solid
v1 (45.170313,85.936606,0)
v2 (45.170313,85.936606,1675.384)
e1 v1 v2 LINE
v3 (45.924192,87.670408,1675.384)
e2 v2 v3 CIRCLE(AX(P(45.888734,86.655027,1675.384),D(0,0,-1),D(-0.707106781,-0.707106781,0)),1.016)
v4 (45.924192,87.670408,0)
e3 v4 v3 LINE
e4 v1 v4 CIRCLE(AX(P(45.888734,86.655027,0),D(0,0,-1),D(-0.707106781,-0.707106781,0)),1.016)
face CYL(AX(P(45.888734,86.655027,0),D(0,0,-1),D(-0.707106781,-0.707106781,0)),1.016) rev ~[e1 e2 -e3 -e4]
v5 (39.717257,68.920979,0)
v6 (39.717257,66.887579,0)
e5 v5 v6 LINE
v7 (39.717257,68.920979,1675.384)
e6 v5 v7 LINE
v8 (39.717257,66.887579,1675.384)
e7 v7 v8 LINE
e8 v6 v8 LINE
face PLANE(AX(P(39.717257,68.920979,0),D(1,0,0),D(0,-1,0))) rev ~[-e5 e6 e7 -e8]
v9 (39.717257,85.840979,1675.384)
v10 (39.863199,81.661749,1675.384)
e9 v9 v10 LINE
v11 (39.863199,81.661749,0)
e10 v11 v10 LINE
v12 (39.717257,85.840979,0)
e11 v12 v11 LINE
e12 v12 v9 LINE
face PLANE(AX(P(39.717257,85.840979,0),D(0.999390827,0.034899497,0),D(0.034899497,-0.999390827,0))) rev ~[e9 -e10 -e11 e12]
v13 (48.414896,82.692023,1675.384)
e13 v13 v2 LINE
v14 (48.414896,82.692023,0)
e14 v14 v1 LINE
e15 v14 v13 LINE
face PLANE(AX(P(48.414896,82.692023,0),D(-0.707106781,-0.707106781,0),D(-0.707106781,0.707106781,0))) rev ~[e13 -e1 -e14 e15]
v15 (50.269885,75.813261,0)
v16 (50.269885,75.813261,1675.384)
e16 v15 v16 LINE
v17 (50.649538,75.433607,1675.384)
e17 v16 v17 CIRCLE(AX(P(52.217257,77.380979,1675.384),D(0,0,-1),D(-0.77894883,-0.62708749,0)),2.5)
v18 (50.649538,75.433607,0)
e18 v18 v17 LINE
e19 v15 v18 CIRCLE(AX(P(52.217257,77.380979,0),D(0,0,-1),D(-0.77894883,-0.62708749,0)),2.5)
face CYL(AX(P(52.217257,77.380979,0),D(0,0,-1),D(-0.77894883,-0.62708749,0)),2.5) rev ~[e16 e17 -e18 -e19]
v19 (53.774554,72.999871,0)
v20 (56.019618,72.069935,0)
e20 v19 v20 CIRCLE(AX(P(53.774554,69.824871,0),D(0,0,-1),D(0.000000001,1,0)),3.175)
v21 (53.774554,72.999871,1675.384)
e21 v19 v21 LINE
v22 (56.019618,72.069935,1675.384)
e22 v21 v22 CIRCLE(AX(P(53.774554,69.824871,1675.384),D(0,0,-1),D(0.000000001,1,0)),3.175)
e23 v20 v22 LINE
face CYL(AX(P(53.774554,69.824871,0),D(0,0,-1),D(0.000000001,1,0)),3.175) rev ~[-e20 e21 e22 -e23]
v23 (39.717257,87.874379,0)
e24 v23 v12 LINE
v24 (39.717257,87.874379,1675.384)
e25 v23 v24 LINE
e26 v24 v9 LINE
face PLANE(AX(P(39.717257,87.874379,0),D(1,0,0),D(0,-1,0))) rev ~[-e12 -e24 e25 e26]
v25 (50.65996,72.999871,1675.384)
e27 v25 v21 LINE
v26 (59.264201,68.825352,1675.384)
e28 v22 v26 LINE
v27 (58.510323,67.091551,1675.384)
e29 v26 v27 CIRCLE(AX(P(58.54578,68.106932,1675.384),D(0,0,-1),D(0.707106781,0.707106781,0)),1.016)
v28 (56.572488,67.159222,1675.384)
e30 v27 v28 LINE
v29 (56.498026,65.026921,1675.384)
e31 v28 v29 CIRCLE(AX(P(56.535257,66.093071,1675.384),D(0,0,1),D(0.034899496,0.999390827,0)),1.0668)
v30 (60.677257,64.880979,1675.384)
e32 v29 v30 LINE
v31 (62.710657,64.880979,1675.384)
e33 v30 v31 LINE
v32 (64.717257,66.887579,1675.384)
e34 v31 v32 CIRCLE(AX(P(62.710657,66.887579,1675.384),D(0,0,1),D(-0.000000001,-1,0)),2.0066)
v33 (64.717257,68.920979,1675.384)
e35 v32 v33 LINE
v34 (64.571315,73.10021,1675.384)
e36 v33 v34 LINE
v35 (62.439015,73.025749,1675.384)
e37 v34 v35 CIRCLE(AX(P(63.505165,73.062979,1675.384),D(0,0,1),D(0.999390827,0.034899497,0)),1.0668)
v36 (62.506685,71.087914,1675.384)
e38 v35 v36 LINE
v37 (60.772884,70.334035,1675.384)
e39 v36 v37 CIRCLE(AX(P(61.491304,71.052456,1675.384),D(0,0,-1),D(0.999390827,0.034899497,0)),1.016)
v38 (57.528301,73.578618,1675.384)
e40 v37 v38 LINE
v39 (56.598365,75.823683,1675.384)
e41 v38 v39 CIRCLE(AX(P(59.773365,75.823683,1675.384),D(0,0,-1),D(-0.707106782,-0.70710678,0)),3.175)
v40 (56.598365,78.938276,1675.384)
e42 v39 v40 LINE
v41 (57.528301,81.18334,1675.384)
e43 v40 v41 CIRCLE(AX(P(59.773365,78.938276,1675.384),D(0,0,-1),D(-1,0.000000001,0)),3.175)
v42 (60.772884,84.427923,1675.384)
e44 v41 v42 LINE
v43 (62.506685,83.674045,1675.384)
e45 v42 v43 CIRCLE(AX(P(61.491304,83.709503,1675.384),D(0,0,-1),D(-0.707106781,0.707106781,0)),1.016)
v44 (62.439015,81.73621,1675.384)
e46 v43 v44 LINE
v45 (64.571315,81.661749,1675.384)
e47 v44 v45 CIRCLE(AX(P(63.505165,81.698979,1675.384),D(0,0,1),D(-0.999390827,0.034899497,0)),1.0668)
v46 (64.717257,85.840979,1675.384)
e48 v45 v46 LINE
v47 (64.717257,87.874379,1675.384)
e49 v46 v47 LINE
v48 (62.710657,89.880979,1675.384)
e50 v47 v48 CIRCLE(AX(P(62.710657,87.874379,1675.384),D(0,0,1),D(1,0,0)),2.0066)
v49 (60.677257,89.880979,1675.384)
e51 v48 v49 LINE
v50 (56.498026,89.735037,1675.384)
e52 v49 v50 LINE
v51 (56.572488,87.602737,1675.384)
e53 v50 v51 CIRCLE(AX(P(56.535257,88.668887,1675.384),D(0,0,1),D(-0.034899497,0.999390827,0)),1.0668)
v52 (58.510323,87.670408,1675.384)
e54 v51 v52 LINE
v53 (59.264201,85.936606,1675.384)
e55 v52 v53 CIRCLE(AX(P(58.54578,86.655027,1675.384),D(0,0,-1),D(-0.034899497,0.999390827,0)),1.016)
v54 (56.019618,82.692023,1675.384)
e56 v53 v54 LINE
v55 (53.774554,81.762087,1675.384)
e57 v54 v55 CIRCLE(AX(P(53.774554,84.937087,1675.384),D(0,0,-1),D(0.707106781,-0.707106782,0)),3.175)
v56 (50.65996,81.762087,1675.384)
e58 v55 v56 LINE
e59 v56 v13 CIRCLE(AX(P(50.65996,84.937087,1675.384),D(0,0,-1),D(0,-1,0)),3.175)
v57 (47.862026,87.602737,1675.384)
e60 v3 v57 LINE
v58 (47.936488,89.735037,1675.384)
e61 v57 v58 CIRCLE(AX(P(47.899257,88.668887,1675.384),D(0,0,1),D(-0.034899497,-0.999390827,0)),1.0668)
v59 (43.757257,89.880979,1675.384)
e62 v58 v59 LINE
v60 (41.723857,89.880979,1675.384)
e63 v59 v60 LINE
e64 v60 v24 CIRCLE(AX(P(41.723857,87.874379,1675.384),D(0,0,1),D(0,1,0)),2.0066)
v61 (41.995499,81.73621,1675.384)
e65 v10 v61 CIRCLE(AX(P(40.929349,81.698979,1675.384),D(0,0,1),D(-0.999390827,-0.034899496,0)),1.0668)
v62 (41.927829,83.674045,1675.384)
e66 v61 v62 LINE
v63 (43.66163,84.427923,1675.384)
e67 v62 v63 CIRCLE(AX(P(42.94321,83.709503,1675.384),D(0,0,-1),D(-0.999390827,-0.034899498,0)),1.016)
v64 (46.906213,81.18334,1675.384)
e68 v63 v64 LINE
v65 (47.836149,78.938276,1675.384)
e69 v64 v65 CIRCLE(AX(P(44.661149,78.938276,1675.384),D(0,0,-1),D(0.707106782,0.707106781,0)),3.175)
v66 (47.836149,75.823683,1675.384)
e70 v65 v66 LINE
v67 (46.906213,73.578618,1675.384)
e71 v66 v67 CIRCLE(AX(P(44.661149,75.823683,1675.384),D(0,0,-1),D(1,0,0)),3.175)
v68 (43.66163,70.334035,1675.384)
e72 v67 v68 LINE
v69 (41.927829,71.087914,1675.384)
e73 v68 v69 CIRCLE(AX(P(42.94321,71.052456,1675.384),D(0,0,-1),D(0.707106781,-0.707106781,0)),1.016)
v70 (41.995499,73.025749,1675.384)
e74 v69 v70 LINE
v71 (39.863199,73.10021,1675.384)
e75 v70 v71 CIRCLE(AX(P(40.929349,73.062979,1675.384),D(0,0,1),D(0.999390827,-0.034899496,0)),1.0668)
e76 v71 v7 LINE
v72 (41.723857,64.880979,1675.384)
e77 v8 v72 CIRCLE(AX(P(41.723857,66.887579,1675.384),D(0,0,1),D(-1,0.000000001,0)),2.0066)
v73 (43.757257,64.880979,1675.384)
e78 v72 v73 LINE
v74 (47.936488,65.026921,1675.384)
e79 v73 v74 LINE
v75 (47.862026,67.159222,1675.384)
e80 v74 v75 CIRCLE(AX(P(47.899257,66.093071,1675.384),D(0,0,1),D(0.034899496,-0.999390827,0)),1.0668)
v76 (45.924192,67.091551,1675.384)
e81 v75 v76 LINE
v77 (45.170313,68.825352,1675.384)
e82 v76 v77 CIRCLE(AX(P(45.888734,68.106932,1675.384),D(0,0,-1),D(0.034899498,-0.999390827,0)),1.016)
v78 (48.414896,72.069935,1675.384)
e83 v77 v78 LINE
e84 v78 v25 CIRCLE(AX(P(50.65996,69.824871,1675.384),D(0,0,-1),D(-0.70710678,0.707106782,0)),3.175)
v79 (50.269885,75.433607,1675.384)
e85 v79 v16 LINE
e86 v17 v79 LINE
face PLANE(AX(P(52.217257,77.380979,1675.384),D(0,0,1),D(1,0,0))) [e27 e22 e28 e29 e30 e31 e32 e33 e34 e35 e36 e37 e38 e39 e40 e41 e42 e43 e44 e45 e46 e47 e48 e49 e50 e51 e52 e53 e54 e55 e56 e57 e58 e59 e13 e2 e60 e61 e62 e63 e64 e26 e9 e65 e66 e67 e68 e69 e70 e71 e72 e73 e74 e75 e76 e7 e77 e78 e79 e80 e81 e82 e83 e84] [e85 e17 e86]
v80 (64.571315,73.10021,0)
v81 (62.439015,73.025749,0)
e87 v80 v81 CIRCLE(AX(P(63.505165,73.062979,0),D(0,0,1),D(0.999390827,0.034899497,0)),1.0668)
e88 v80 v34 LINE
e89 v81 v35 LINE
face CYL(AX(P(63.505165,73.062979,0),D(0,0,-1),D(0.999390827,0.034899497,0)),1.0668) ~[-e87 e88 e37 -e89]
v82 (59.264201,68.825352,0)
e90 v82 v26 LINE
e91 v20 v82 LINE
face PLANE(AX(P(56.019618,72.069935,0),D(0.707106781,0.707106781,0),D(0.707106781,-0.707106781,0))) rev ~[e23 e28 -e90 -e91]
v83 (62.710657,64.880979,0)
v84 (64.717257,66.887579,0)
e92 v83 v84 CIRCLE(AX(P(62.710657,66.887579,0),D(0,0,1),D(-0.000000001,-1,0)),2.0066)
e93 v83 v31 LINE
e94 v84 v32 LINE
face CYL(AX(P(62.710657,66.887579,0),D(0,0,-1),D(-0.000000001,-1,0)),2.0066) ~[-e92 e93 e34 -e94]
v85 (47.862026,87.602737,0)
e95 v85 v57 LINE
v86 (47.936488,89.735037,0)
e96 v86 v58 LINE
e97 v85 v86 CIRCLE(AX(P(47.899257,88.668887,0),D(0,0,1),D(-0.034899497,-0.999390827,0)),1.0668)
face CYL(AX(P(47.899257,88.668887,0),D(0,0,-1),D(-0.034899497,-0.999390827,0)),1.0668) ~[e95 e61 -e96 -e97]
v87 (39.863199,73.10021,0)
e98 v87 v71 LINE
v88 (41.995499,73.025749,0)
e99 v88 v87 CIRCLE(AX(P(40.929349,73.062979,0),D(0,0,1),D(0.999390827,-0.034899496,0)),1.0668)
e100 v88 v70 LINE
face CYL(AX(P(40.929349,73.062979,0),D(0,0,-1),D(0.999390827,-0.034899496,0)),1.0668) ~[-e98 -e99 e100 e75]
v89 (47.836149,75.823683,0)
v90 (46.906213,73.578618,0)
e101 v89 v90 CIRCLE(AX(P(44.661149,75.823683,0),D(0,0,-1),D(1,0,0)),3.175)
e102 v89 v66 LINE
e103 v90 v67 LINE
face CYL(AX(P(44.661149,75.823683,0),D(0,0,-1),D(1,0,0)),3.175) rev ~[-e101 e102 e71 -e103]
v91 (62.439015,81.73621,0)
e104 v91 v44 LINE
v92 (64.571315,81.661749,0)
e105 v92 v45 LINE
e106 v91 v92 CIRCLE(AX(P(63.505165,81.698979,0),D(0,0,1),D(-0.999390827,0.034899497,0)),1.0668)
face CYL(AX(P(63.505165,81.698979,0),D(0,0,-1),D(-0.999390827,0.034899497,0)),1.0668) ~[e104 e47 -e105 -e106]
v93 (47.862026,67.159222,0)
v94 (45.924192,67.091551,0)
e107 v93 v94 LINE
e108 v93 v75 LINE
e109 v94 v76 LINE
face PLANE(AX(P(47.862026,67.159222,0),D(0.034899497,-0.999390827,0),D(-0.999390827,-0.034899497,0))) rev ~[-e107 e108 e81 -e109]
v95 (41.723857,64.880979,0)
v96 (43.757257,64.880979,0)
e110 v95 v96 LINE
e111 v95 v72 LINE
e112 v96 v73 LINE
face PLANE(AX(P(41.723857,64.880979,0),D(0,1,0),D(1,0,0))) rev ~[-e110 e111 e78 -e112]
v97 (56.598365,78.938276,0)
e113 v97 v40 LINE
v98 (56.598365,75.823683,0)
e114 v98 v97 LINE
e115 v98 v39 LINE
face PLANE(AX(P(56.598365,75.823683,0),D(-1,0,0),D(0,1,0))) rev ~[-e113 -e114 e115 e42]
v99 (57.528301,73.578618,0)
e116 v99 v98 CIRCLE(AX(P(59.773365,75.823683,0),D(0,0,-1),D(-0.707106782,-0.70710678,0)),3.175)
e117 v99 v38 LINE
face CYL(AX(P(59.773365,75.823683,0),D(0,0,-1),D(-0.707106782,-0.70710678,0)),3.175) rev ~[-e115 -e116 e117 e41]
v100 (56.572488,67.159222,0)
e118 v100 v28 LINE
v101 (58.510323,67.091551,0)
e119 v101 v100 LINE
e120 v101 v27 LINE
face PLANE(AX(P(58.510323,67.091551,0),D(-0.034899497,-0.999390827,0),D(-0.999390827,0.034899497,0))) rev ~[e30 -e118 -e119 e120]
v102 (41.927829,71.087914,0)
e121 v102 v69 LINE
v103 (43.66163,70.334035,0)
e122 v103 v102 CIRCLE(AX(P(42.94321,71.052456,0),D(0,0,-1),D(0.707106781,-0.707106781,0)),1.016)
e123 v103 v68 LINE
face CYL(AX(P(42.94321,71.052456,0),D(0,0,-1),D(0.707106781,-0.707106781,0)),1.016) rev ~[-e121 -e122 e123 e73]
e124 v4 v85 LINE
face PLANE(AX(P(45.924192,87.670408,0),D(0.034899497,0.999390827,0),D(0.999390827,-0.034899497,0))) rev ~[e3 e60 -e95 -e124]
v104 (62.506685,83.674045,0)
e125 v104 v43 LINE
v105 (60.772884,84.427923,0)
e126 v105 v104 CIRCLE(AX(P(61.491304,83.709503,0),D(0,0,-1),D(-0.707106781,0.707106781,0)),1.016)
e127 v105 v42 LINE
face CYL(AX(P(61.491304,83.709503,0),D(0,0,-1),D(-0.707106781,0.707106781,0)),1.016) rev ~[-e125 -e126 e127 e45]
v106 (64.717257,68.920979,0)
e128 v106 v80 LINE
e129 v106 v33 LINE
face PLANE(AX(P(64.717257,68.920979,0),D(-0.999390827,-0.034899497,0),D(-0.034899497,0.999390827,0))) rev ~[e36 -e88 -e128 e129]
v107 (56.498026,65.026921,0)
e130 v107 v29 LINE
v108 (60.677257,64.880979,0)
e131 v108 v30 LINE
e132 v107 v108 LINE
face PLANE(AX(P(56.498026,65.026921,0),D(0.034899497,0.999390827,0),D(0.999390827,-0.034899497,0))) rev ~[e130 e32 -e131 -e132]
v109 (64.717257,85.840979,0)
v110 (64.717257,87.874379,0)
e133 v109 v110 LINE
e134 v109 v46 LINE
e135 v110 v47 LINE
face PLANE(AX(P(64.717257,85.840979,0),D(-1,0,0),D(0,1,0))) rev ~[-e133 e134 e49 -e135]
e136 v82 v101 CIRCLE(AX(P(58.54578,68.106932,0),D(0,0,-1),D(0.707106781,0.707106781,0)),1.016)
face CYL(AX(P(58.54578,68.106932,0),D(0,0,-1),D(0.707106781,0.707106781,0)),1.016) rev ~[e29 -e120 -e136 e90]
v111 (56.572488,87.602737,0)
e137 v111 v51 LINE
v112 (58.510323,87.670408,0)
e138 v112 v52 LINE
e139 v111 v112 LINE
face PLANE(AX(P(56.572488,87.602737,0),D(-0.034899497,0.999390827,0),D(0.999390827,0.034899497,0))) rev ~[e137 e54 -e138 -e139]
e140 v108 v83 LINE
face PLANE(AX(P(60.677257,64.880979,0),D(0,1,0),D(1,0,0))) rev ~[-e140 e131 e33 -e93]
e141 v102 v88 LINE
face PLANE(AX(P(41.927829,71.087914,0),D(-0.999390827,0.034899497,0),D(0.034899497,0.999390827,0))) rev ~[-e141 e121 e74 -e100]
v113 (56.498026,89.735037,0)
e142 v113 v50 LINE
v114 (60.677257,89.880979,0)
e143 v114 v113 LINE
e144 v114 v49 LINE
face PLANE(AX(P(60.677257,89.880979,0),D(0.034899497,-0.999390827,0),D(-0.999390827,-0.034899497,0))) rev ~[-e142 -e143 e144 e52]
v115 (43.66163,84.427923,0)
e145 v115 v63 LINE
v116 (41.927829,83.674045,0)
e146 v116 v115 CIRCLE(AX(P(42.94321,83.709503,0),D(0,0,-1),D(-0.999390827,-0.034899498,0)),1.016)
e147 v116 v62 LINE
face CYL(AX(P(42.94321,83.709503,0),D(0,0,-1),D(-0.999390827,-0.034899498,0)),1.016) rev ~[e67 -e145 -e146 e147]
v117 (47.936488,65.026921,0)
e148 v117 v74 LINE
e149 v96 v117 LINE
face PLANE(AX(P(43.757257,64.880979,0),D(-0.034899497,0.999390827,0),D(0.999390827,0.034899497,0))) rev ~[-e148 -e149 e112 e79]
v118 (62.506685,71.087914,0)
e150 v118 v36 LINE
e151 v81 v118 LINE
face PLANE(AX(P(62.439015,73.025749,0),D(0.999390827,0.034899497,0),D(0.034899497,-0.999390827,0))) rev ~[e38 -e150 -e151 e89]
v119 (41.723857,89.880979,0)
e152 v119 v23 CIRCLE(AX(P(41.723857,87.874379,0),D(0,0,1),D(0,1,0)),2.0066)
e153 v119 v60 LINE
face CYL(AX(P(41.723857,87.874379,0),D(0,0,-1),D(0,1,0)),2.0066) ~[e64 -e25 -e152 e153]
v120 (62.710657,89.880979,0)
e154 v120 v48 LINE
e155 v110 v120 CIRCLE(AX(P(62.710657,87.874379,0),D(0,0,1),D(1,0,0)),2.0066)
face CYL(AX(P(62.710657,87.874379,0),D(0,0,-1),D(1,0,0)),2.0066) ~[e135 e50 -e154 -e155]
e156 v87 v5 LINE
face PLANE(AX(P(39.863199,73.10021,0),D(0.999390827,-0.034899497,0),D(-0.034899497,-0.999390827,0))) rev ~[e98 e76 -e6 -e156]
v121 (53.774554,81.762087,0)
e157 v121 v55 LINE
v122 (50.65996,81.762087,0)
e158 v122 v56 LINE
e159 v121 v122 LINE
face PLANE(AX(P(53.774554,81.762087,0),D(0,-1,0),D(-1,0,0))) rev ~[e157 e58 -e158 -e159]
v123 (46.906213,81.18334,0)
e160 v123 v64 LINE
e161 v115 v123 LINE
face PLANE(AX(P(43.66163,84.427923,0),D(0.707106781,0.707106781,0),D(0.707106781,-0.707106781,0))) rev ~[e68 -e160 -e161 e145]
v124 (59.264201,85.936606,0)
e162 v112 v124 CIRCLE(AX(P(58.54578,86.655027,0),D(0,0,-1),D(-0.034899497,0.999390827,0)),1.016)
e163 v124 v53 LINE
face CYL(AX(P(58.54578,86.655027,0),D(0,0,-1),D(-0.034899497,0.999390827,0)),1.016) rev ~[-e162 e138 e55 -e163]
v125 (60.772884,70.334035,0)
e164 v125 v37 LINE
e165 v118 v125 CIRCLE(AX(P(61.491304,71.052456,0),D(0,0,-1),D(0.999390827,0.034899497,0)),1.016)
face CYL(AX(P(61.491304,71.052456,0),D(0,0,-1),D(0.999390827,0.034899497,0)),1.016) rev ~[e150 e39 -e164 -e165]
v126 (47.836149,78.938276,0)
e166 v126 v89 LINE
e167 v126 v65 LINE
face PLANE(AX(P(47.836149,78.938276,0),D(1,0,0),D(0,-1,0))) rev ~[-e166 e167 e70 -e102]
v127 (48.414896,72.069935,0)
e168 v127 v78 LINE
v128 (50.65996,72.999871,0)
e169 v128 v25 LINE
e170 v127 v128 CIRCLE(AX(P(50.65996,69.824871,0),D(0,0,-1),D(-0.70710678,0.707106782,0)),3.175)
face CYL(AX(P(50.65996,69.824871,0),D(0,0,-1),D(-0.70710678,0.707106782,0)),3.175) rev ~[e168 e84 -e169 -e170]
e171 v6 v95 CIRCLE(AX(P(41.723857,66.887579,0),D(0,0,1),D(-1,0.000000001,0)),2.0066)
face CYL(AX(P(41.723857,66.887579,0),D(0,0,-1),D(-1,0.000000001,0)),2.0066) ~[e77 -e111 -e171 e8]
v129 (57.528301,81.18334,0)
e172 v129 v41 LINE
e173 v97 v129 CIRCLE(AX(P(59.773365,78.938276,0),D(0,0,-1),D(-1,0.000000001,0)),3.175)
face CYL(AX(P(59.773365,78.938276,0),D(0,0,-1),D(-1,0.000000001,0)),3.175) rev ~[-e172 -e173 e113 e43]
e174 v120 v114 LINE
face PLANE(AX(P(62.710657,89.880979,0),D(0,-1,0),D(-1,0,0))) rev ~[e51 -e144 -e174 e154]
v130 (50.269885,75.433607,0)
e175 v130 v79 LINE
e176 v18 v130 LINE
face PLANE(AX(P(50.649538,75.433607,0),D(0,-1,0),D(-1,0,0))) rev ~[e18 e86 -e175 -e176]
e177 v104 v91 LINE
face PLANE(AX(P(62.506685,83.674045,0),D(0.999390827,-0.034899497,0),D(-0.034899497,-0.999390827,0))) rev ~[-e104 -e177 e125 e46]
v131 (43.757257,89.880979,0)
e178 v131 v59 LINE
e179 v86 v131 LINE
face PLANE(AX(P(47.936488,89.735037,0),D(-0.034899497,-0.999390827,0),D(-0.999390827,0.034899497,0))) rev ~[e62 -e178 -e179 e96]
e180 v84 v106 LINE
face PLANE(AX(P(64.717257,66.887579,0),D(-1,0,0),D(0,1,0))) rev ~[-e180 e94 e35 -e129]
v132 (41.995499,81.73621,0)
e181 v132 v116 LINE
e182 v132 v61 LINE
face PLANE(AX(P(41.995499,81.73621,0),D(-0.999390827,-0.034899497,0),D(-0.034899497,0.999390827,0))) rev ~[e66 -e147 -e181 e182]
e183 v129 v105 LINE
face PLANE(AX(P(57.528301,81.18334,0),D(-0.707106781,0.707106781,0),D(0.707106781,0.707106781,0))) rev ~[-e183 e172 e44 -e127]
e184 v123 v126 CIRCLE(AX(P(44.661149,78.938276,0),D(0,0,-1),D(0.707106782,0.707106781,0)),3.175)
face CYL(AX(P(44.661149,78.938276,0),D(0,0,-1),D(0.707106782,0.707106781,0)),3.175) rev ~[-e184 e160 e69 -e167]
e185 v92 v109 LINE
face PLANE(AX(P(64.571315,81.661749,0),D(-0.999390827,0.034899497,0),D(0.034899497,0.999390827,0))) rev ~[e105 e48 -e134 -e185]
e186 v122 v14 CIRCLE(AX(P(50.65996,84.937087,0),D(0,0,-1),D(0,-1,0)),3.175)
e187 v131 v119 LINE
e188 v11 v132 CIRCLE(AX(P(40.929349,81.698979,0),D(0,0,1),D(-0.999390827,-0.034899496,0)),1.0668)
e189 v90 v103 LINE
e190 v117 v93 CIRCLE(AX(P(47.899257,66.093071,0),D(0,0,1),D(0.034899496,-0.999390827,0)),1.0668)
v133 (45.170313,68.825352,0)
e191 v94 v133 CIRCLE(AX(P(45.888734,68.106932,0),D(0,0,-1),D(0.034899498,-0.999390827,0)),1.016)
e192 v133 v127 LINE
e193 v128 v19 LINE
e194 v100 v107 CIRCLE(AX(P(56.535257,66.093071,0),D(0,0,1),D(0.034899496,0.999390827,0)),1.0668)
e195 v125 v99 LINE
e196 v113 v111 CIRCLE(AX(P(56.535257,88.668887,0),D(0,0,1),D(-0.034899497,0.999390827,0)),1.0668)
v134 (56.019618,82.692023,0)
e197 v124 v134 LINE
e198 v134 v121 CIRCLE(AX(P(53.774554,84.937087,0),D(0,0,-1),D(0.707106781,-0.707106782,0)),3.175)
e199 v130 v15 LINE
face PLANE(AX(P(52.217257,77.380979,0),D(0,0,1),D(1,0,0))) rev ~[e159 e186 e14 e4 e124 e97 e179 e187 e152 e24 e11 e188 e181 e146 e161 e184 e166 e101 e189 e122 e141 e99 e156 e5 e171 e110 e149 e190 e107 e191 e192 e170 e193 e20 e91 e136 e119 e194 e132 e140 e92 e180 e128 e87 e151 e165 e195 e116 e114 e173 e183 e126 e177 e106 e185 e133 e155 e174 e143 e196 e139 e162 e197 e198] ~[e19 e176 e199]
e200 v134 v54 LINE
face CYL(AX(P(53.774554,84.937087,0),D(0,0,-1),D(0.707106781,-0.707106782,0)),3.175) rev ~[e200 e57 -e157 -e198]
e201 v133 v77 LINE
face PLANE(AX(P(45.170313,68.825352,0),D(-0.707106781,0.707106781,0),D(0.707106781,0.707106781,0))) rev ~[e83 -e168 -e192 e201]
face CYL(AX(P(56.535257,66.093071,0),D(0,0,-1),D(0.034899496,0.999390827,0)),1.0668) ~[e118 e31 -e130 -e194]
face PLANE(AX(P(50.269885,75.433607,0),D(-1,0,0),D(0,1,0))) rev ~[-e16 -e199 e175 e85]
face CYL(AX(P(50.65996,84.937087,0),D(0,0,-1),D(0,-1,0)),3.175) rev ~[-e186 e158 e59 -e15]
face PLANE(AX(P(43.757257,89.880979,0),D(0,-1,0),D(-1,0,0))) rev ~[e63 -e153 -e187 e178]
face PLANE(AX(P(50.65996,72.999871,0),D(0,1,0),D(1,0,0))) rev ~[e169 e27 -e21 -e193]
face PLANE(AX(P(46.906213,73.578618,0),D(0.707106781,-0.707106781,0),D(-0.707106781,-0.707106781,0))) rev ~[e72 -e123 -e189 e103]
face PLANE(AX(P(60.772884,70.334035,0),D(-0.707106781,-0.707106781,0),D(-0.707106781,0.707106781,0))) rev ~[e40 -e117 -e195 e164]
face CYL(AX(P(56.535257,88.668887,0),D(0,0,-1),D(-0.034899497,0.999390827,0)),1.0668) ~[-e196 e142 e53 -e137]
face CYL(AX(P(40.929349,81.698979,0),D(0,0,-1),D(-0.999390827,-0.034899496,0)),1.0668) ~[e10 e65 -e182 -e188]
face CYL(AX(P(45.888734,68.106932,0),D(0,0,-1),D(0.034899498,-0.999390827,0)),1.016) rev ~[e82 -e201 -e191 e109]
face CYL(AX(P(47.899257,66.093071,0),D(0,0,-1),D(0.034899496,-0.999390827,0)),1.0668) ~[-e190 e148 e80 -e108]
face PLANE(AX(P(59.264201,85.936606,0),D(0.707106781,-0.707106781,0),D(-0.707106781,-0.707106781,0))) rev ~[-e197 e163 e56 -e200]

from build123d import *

# Parameters (mm, degrees)
BOSS_EXTRUDE1_DEPTH = 1675.384


with BuildPart() as part:
    # Model → Boss-Extrude1 (new body)
    with BuildSketch(Plane.XY):
        with BuildLine():
            Line((50.659960212, 72.999871414), (53.774553856, 72.999871414))
            ThreePointArc((53.774553856, 72.999871414), (54.989573754, 72.758188929), (56.019617887, 72.069935444))
            Line((56.019617887, 72.069935444), (59.264200891, 68.825352439))
            ThreePointArc((59.264200891, 68.825352439), (59.477513437, 67.701802895), (58.510322513, 67.091550869))
            Line((58.510322513, 67.091550869), (56.572487817, 67.159221548))
            ThreePointArc((56.572487817, 67.159221548), (55.4691069, 66.130302197), (56.498026251, 65.026921279))
            Line((56.498026251, 65.026921279), (60.677257034, 64.880979325))
            Line((60.677257034, 64.880979325), (62.710657034, 64.880979325))
            ThreePointArc((62.710657034, 64.880979325), (64.129537501, 65.468698857), (64.717257034, 66.887579325))
            Line((64.717257034, 66.887579325), (64.717257034, 68.920979325))
            Line((64.717257034, 68.920979325), (64.57131508, 73.100210108))
            ThreePointArc((64.57131508, 73.100210108), (63.467934162, 74.129129459), (62.439014811, 73.025748542))
            Line((62.439014811, 73.025748542), (62.50668549, 71.087913846))
            ThreePointArc((62.50668549, 71.087913846), (61.896433464, 70.120722922), (60.77288392, 70.334035468))
            Line((60.77288392, 70.334035468), (57.528300915, 73.578618472))
            ThreePointArc((57.528300915, 73.578618472), (56.84004743, 74.608662605), (56.598364945, 75.823682503))
            Line((56.598364945, 75.823682503), (56.598364945, 78.938276147))
            ThreePointArc((56.598364945, 78.938276147), (56.84004743, 80.153296044), (57.528300915, 81.183340177))
            Line((57.528300915, 81.183340177), (60.77288392, 84.427923182))
            ThreePointArc((60.77288392, 84.427923182), (61.896433464, 84.641235728), (62.50668549, 83.674044803))
            Line((62.50668549, 83.674044803), (62.439014811, 81.736210108))
            ThreePointArc((62.439014811, 81.736210108), (63.467934162, 80.63282919), (64.57131508, 81.661748542))
            Line((64.57131508, 81.661748542), (64.717257034, 85.840979325))
            Line((64.717257034, 85.840979325), (64.717257034, 87.874379325))
            ThreePointArc((64.717257034, 87.874379325), (64.129537501, 89.293259792), (62.710657034, 89.880979325))
            Line((62.710657034, 89.880979325), (60.677257034, 89.880979325))
            Line((60.677257034, 89.880979325), (56.498026251, 89.73503737))
            ThreePointArc((56.498026251, 89.73503737), (55.4691069, 88.631656452), (56.572487817, 87.602737101))
            Line((56.572487817, 87.602737101), (58.510322513, 87.67040778))
            ThreePointArc((58.510322513, 87.67040778), (59.477513437, 87.060155754), (59.264200891, 85.93660621))
            Line((59.264200891, 85.93660621), (56.019617887, 82.692023205))
            ThreePointArc((56.019617887, 82.692023205), (54.989573754, 82.00376972), (53.774553856, 81.762087236))
            Line((53.774553856, 81.762087236), (50.659960212, 81.762087236))
            ThreePointArc((50.659960212, 81.762087236), (49.444940315, 82.00376972), (48.414896182, 82.692023205))
            Line((48.414896182, 82.692023205), (45.170313177, 85.93660621))
            ThreePointArc((45.170313177, 85.93660621), (44.957000631, 87.060155754), (45.924191556, 87.67040778))
            Line((45.924191556, 87.67040778), (47.862026251, 87.602737101))
            ThreePointArc((47.862026251, 87.602737101), (48.965407169, 88.631656452), (47.936487817, 89.73503737))
            Line((47.936487817, 89.73503737), (43.757257034, 89.880979325))
            Line((43.757257034, 89.880979325), (41.723857034, 89.880979325))
            ThreePointArc((41.723857034, 89.880979325), (40.304976567, 89.293259792), (39.717257034, 87.874379325))
            Line((39.717257034, 87.874379325), (39.717257034, 85.840979325))
            Line((39.717257034, 85.840979325), (39.863198989, 81.661748542))
            ThreePointArc((39.863198989, 81.661748542), (40.966579907, 80.63282919), (41.995499258, 81.736210108))
            Line((41.995499258, 81.736210108), (41.927828579, 83.674044803))
            ThreePointArc((41.927828579, 83.674044803), (42.538080605, 84.641235728), (43.661630149, 84.427923182))
            Line((43.661630149, 84.427923182), (46.906213154, 81.183340177))
            ThreePointArc((46.906213154, 81.183340177), (47.594466639, 80.153296044), (47.836149123, 78.938276147))
            Line((47.836149123, 78.938276147), (47.836149123, 75.823682503))
            ThreePointArc((47.836149123, 75.823682503), (47.594466639, 74.608662605), (46.906213154, 73.578618472))
            Line((46.906213154, 73.578618472), (43.661630149, 70.334035468))
            ThreePointArc((43.661630149, 70.334035468), (42.538080605, 70.120722922), (41.927828579, 71.087913846))
            Line((41.927828579, 71.087913846), (41.995499258, 73.025748542))
            ThreePointArc((41.995499258, 73.025748542), (40.966579907, 74.129129459), (39.863198989, 73.100210108))
            Line((39.863198989, 73.100210108), (39.717257034, 68.920979325))
            Line((39.717257034, 68.920979325), (39.717257034, 66.887579325))
            ThreePointArc((39.717257034, 66.887579325), (40.304976567, 65.468698857), (41.723857034, 64.880979325))
            Line((41.723857034, 64.880979325), (43.757257034, 64.880979325))
            Line((43.757257034, 64.880979325), (47.936487817, 65.026921279))
            ThreePointArc((47.936487817, 65.026921279), (48.965407169, 66.130302197), (47.862026251, 67.159221548))
            Line((47.862026251, 67.159221548), (45.924191556, 67.091550869))
            ThreePointArc((45.924191556, 67.091550869), (44.957000631, 67.701802895), (45.170313177, 68.825352439))
            Line((45.170313177, 68.825352439), (48.414896182, 72.069935444))
            ThreePointArc((48.414896182, 72.069935444), (49.444940315, 72.758188929), (50.659960212, 72.999871414))
        make_face()
        with BuildLine():
            Line((50.64953831, 75.433607249), (50.269884959, 75.433607249))
            Line((50.269884959, 75.433607249), (50.269884959, 75.8132606))
            ThreePointArc((50.269884959, 75.8132606), (53.985023987, 79.148746278), (50.64953831, 75.433607249))
        make_face(mode=Mode.SUBTRACT)
    extrude(amount=BOSS_EXTRUDE1_DEPTH)


solid = part.part
